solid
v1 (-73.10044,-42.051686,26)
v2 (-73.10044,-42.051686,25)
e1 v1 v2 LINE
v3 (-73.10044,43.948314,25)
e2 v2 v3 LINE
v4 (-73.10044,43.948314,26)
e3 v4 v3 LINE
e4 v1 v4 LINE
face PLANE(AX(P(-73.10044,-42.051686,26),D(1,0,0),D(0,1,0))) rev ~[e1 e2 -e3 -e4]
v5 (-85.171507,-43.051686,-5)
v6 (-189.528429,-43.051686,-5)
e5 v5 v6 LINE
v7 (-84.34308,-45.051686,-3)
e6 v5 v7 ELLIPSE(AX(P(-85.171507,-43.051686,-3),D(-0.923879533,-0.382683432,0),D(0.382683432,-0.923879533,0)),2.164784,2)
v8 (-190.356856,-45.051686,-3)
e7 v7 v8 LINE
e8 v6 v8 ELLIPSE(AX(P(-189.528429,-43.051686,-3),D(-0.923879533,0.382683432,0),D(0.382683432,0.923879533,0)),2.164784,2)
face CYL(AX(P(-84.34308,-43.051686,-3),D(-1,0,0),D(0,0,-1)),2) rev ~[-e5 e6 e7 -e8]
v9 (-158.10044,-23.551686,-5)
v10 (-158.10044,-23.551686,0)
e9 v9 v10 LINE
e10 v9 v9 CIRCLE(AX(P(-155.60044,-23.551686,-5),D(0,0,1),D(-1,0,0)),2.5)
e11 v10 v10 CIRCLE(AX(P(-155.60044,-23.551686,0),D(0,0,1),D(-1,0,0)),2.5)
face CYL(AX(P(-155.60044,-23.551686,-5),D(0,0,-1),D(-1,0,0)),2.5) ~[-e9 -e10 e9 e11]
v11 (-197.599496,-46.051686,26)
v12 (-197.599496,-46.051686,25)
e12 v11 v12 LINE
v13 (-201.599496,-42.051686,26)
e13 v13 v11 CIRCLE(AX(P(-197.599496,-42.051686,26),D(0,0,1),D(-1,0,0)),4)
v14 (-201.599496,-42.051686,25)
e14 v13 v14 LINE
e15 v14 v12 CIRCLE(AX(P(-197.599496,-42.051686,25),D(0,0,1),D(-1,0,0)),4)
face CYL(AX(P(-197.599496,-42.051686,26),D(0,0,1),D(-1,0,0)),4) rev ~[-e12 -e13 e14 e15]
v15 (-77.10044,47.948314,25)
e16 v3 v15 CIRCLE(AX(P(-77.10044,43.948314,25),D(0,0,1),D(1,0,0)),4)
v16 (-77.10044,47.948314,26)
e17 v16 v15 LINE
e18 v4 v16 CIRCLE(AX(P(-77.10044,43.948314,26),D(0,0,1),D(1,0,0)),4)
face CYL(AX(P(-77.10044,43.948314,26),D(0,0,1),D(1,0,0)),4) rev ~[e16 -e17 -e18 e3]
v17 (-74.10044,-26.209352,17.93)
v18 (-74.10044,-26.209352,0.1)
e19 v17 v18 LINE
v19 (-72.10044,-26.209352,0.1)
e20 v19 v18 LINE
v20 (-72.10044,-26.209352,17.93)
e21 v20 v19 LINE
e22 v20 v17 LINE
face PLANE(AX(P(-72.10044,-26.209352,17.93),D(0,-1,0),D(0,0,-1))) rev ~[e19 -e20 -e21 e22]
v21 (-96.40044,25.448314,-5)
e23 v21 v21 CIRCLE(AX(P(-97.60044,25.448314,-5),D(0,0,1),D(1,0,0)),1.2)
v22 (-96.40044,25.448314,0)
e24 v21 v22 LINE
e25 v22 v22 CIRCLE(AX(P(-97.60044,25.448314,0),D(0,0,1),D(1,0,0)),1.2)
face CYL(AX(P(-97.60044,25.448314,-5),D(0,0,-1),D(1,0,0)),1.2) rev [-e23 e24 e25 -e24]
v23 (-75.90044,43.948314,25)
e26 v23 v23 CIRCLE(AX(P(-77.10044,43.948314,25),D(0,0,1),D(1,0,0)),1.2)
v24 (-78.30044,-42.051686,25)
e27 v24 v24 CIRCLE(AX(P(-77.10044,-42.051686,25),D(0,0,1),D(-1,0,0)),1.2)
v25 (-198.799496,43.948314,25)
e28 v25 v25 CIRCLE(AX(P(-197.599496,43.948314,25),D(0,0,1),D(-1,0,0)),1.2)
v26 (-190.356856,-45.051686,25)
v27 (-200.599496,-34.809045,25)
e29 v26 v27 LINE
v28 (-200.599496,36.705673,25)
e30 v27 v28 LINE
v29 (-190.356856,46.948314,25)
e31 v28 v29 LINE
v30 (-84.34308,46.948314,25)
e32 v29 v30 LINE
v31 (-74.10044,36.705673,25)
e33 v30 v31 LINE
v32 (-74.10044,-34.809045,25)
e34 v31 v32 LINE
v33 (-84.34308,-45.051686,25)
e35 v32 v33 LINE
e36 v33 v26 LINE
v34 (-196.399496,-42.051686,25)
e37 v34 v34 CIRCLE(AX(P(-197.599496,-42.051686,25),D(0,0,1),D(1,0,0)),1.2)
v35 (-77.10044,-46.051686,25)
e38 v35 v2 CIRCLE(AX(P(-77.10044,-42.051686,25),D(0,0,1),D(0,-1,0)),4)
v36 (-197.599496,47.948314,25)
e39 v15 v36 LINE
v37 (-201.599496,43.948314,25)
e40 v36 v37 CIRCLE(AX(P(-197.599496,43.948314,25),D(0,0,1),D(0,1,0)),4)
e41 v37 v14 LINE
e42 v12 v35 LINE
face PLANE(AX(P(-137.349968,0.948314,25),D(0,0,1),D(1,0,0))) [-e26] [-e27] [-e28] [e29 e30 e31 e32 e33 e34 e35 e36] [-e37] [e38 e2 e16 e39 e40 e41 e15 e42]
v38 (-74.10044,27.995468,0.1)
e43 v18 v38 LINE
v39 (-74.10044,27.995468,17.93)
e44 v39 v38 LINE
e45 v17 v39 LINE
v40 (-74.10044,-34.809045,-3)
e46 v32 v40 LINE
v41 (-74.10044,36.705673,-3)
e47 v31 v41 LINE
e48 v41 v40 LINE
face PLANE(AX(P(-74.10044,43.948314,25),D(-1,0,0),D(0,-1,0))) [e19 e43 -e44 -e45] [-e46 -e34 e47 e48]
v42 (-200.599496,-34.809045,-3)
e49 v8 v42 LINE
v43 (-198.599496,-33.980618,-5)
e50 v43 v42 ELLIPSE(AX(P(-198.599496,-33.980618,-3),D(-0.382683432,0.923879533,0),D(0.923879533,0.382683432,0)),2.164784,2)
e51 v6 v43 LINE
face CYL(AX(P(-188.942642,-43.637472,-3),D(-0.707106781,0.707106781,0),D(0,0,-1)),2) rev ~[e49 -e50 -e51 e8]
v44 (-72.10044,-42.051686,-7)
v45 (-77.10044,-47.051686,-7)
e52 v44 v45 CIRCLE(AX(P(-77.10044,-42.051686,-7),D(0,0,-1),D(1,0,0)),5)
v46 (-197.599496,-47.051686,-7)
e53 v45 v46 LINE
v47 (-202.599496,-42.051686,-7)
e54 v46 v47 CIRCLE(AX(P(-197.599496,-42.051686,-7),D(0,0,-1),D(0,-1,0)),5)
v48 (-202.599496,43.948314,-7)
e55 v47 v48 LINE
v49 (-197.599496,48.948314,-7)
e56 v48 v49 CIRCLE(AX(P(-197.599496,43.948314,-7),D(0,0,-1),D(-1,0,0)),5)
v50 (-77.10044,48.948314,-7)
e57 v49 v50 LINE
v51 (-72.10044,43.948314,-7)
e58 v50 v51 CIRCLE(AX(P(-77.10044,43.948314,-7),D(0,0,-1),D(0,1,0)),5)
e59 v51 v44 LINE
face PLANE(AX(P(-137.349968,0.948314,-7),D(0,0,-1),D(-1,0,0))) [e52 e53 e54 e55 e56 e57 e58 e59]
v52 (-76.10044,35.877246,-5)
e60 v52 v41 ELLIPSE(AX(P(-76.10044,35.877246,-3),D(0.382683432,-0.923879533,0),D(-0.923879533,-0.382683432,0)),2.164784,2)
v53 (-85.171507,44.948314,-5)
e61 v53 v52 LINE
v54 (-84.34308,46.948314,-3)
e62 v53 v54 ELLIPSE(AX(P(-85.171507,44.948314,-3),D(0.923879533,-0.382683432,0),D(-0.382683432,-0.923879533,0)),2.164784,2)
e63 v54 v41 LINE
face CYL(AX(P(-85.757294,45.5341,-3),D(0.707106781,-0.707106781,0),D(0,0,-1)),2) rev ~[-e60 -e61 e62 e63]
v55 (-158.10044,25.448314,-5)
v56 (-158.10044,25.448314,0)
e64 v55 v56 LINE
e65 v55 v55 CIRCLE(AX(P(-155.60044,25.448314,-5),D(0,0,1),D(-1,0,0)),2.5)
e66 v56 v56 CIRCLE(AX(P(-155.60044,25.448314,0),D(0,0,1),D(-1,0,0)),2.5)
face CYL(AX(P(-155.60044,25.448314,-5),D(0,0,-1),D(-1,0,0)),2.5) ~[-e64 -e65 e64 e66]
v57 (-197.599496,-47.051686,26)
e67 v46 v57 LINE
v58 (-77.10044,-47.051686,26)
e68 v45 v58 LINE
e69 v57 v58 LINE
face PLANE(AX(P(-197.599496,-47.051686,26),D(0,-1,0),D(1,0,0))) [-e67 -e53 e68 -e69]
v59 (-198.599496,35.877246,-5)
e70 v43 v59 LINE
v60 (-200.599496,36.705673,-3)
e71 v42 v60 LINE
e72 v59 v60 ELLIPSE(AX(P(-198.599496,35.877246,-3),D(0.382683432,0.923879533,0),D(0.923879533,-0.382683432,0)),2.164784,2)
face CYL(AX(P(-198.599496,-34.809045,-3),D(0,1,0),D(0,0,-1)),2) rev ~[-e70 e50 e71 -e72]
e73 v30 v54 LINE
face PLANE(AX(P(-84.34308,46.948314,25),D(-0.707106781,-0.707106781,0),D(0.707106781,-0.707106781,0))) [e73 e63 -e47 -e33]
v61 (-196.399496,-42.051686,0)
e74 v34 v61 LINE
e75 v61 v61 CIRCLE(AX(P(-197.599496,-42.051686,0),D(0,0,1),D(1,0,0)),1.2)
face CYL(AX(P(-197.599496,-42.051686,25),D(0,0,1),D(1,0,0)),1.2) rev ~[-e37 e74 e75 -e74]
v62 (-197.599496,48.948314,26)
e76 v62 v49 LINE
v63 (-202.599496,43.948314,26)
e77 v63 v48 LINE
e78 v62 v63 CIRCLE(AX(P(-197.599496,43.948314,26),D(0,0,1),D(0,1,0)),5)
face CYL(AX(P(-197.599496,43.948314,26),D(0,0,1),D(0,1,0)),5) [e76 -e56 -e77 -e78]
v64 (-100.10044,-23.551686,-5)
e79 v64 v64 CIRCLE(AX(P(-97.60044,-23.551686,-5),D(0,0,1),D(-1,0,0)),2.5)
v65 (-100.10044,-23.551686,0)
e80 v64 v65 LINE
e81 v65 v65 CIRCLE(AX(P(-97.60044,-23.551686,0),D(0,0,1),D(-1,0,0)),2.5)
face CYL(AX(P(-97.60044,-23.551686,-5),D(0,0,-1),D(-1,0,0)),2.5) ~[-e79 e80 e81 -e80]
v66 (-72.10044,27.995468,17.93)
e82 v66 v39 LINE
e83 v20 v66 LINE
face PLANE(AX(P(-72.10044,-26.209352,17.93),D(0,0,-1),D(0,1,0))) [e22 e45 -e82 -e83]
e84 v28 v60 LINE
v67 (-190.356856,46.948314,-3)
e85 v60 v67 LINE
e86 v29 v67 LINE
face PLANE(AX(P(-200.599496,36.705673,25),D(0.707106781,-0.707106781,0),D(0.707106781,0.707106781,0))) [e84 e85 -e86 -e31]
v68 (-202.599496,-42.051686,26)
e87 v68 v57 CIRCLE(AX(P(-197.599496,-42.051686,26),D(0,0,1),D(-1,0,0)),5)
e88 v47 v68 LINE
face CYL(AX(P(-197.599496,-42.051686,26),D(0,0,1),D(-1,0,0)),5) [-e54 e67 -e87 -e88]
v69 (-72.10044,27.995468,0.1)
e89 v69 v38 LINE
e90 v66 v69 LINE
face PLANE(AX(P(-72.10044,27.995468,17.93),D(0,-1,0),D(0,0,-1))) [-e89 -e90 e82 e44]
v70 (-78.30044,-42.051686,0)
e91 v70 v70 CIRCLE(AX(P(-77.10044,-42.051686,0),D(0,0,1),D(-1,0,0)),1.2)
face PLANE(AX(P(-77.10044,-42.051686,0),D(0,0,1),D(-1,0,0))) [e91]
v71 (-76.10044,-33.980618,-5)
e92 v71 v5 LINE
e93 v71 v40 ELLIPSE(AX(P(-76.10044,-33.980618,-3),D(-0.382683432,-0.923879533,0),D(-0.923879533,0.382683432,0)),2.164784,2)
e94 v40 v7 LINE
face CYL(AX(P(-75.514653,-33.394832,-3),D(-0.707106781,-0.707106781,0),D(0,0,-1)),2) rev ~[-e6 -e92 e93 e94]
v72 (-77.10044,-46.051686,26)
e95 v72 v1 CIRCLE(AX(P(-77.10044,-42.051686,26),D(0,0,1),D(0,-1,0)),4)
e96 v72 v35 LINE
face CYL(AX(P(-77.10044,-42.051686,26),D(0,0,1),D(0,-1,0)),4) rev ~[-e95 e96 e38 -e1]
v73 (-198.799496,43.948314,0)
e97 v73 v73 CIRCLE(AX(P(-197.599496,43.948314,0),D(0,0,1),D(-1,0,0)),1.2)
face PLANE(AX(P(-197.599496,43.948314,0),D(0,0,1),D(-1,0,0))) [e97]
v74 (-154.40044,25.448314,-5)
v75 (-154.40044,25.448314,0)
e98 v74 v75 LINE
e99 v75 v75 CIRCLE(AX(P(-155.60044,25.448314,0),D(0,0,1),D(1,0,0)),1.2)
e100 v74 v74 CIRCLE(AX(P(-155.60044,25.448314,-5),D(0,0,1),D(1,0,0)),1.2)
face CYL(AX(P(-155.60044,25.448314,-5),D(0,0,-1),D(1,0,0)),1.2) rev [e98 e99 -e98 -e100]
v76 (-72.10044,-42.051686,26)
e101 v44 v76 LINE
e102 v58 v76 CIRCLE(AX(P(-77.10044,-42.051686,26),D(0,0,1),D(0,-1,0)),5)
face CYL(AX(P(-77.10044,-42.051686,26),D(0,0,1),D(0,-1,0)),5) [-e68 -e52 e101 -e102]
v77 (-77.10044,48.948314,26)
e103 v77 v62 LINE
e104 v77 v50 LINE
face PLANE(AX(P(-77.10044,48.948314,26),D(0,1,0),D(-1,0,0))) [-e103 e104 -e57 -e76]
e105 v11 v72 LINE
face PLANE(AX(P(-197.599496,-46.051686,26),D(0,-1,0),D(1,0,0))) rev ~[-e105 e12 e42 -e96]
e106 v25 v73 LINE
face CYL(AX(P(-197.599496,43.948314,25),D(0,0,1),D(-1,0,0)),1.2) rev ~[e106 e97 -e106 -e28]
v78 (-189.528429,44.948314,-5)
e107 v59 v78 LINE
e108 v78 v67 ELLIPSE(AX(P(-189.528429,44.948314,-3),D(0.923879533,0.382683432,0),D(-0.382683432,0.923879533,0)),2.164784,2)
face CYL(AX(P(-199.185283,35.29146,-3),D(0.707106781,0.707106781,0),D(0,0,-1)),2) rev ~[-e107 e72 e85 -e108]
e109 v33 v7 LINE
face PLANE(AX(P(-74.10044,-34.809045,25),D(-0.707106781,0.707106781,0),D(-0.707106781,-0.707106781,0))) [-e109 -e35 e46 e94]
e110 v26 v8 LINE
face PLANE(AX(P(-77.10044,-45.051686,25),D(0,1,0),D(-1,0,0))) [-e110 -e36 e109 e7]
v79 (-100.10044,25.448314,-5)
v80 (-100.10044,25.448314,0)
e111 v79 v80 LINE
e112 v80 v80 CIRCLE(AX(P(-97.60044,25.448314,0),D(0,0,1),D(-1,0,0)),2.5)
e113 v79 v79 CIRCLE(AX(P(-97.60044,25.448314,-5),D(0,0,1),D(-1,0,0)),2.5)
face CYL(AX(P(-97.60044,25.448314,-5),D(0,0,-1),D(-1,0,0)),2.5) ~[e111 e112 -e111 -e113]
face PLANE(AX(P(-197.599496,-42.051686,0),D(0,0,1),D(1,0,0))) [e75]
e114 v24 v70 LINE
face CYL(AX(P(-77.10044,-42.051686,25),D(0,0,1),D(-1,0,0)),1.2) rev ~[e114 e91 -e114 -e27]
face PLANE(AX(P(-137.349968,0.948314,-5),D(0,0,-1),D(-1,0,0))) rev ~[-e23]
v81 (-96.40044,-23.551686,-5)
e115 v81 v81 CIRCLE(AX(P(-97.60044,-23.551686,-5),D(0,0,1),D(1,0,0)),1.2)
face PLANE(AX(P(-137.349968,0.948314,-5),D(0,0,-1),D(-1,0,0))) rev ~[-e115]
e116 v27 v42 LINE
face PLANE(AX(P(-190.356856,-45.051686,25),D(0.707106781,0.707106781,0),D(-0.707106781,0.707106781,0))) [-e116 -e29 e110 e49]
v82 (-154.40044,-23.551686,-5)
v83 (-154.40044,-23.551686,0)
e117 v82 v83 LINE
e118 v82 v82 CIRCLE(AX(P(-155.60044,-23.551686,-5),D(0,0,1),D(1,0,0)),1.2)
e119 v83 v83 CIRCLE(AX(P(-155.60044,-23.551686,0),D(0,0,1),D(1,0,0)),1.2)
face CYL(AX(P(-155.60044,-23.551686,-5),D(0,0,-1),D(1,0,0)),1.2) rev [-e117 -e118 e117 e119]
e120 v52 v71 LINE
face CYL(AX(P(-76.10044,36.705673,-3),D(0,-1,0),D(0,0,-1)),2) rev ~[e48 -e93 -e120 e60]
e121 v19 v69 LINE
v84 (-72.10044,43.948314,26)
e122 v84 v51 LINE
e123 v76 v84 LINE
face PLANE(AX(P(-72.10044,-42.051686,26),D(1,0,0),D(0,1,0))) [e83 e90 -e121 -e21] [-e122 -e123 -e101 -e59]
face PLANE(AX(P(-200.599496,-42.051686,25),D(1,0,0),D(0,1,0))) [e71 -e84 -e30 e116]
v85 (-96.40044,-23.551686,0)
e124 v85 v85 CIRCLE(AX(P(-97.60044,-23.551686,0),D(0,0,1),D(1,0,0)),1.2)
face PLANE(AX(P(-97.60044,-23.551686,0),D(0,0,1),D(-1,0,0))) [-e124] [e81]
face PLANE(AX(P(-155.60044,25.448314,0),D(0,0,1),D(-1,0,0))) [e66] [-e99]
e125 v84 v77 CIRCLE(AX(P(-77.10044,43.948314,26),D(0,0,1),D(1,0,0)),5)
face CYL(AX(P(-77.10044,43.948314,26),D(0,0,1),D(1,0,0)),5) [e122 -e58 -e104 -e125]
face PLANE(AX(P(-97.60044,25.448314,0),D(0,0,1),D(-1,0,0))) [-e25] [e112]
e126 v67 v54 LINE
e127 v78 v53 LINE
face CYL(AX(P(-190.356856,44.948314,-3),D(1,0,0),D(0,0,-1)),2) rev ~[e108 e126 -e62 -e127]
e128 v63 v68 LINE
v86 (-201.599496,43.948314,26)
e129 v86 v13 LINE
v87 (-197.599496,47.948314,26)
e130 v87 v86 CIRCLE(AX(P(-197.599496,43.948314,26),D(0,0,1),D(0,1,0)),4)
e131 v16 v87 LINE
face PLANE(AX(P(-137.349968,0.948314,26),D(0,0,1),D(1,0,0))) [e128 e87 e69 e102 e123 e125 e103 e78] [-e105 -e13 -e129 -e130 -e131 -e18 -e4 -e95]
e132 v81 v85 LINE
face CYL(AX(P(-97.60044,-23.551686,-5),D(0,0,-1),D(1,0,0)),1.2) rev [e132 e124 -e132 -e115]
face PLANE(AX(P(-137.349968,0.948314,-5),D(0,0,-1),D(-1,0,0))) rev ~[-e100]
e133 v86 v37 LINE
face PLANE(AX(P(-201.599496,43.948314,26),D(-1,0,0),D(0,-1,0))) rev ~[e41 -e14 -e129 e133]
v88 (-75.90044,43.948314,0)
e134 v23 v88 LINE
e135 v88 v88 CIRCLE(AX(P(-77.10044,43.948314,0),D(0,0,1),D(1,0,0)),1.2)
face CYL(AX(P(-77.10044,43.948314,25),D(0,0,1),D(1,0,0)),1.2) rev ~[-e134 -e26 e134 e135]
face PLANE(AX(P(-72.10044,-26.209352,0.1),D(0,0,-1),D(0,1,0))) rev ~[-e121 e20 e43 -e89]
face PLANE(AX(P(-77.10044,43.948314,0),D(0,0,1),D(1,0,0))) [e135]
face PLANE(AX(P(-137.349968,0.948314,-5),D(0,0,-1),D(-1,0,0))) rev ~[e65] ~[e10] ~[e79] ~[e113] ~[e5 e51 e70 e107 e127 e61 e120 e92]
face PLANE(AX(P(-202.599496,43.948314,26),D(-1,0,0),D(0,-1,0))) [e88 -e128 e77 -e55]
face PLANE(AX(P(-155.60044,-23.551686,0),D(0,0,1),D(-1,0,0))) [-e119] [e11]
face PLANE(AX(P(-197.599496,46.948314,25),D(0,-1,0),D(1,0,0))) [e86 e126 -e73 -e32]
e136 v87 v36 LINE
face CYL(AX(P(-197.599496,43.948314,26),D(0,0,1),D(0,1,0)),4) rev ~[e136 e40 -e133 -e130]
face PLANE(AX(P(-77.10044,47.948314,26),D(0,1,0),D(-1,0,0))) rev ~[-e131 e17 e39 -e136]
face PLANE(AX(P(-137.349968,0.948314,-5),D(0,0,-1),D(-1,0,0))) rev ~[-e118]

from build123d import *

# Parameters (mm, degrees)
BOSS_EXTRUDE1_DEPTH = 2
BOSS_EXTRUDE2_START = 30
SKETCH2_R           = 3
BOSS_EXTRUDE2_DEPTH = 30
SKETCH3_R           = 1.2
CUT_EXTRUDE1_DEPTH  = 25
BOSS_EXTRUDE3_START = 1
BOSS_EXTRUDE3_DEPTH = 1
SKETCH6_W           = 17.83
SKETCH6_H           = 54.204820934
CUT_EXTRUDE2_DEPTH  = 2
SKETCH7_R           = 2.5
SKETCH7_R_2         = 1.375
SKETCH7_R_3         = 1.2
BOSS_EXTRUDE4_DEPTH = 5
FILLET1_R           = 2


with BuildPart() as part:
    # Sketch1 → Boss-Extrude1 (new body)
    with BuildSketch(Plane(origin=(0, 0, -5), x_dir=(-1, 0, 0), z_dir=(0, 0, -1))):
        with BuildLine():
            Line((77.100439502, -47.051685991), (197.59949644, -47.051685991))
            ThreePointArc((197.59949644, -47.051685991), (201.135030346, -45.587219897), (202.59949644, -42.051685991))
            Line((202.59949644, -42.051685991), (202.59949644, 43.948314009))
            ThreePointArc((202.59949644, 43.948314009), (201.135030346, 47.483847915), (197.59949644, 48.948314009))
            Line((197.59949644, 48.948314009), (77.100439502, 48.948314009))
            ThreePointArc((77.100439502, 48.948314009), (73.564905596, 47.483847915), (72.100439502, 43.948314009))
            Line((72.100439502, 43.948314009), (72.100439502, -42.051685991))
            ThreePointArc((72.100439502, -42.051685991), (73.564905596, -45.587219897), (77.100439502, -47.051685991))
        make_face()
    extrude(amount=BOSS_EXTRUDE1_DEPTH)

    # Sketch2 → Boss-Extrude2 (add)
    # profile 1 of 7: a face of its own
    with BuildSketch(Plane.XY.offset(-5).offset(BOSS_EXTRUDE2_START)):
        with BuildLine():
            ThreePointArc((-202.59949644, -42.051685991), (-201.135030346, -45.587219897), (-197.59949644, -47.051685991))
            Line((-197.59949644, -47.051685991), (-77.100439502, -47.051685991))
            ThreePointArc((-77.100439502, -47.051685991), (-73.564905596, -45.587219897), (-72.100439502, -42.051685991))
            Line((-72.100439502, -42.051685991), (-72.100439502, 43.948314009))
            ThreePointArc((-72.100439502, 43.948314009), (-73.564905596, 47.483847915), (-77.100439502, 48.948314009))
            Line((-77.100439502, 48.948314009), (-197.59949644, 48.948314009))
            ThreePointArc((-197.59949644, 48.948314009), (-201.135030346, 47.483847915), (-202.59949644, 43.948314009))
            Line((-202.59949644, 43.948314009), (-202.59949644, -42.051685991))
        make_face()
        with BuildLine():
            Line((-74.100439502, -34.809045304), (-74.100439502, -42.051685991))
            ThreePointArc((-74.100439502, -42.051685991), (-74.979119158, -44.173006334), (-77.100439502, -45.051685991))
            Line((-77.100439502, -45.051685991), (-84.343080189, -45.051685991))
            Line((-84.343080189, -45.051685991), (-190.356855753, -45.051685991))
            Line((-190.356855753, -45.051685991), (-197.59949644, -45.051685991))
            ThreePointArc((-197.59949644, -45.051685991), (-199.720816783, -44.173006334), (-200.59949644, -42.051685991))
            Line((-200.59949644, -42.051685991), (-200.59949644, -34.809045304))
            Line((-200.59949644, -34.809045304), (-200.59949644, 36.705673322))
            Line((-200.59949644, 36.705673322), (-200.59949644, 43.948314009))
            ThreePointArc((-200.59949644, 43.948314009), (-199.720816783, 46.069634353), (-197.59949644, 46.948314009))
            Line((-197.59949644, 46.948314009), (-190.356855753, 46.948314009))
            Line((-190.356855753, 46.948314009), (-84.343080189, 46.948314009))
            Line((-84.343080189, 46.948314009), (-77.100439502, 46.948314009))
            ThreePointArc((-77.100439502, 46.948314009), (-74.979119158, 46.069634353), (-74.100439502, 43.948314009))
            Line((-74.100439502, 43.948314009), (-74.100439502, 36.705673322))
            Line((-74.100439502, 36.705673322), (-74.100439502, -34.809045304))
        make_face(mode=Mode.SUBTRACT)
    # profile 2 of 7: a face of its own
    with BuildSketch(Plane.XY.offset(-5).offset(BOSS_EXTRUDE2_START)):
        with BuildLine():
            Line((-197.59949644, -45.051685991), (-190.356855753, -45.051685991))
            Line((-190.356855753, -45.051685991), (-200.59949644, -34.809045304))
            Line((-200.59949644, -34.809045304), (-200.59949644, -42.051685991))
            ThreePointArc((-200.59949644, -42.051685991), (-199.720816783, -44.173006334), (-197.59949644, -45.051685991))
        make_face()
    # profile 3 of 7: a face of its own
    with BuildSketch(Plane.XY.offset(-5).offset(BOSS_EXTRUDE2_START)):
        with BuildLine():
            Line((-200.59949644, 36.705673322), (-190.356855753, 46.948314009))
            Line((-190.356855753, 46.948314009), (-197.59949644, 46.948314009))
            ThreePointArc((-197.59949644, 46.948314009), (-199.720816783, 46.069634353), (-200.59949644, 43.948314009))
            Line((-200.59949644, 43.948314009), (-200.59949644, 36.705673322))
        make_face()
    # profile 4 of 7: a face of its own
    with BuildSketch(Plane.XY.offset(-5).offset(BOSS_EXTRUDE2_START)):
        with BuildLine():
            Line((-84.343080189, 46.948314009), (-74.100439502, 36.705673322))
            Line((-74.100439502, 36.705673322), (-74.100439502, 43.948314009))
            ThreePointArc((-74.100439502, 43.948314009), (-74.979119158, 46.069634353), (-77.100439502, 46.948314009))
            Line((-77.100439502, 46.948314009), (-84.343080189, 46.948314009))
        make_face()
    # profile 5 of 7: a face of its own
    with BuildSketch(Plane.XY.offset(-5).offset(BOSS_EXTRUDE2_START)):
        with BuildLine():
            ThreePointArc((-79.221759818, -39.93036562), (-75.952389187, -39.280047401), (-74.100439502, -42.051685991))
            Line((-74.100439502, -42.051685991), (-74.100439502, -34.809045304))
            Line((-74.100439502, -34.809045304), (-79.221759818, -39.93036562))
        make_face()
    # profile 6 of 7: a face of its own
    with BuildSketch(Plane.XY.offset(-5).offset(BOSS_EXTRUDE2_START)):
        with Locations((-77.100439502, -42.051685991)):
            Circle(SKETCH2_R)
    # profile 7 of 7: a face of its own
    with BuildSketch(Plane.XY.offset(-5).offset(BOSS_EXTRUDE2_START)):
        with BuildLine():
            Line((-84.343080189, -45.051685991), (-77.100439502, -45.051685991))
            ThreePointArc((-77.100439502, -45.051685991), (-79.872078107, -43.19973627), (-79.221759818, -39.93036562))
            Line((-79.221759818, -39.93036562), (-84.343080189, -45.051685991))
        make_face()
    extrude(amount=-BOSS_EXTRUDE2_DEPTH)

    # Sketch3 → Cut-Extrude1 (cut)
    with BuildSketch(Plane.XY.offset(25)):
        with Locations((-197.59949644, -42.051685991)):
            Circle(SKETCH3_R)
        with Locations(Location((-77.100439502, -42.051685991, 0), (0, 0, 180))):
            Circle(SKETCH3_R)
        with Locations(Location((-197.59949644, 43.948314009, 0), (0, 0, 180))):
            Circle(SKETCH3_R)
        with Locations((-77.100439502, 43.948314009)):
            Circle(SKETCH3_R)
    extrude(amount=-CUT_EXTRUDE1_DEPTH, mode=Mode.SUBTRACT)

    # Sketch4 → Boss-Extrude3 (add)
    with BuildSketch(Plane.XY.offset(25).offset(BOSS_EXTRUDE3_START)):
        with BuildLine():
            Line((-202.59949644, 43.948314009), (-202.59949644, -42.051685991))
            ThreePointArc((-202.59949644, -42.051685991), (-201.135030346, -45.587219897), (-197.59949644, -47.051685991))
            Line((-197.59949644, -47.051685991), (-77.100439502, -47.051685991))
            ThreePointArc((-77.100439502, -47.051685991), (-73.564905596, -45.587219897), (-72.100439502, -42.051685991))
            Line((-72.100439502, -42.051685991), (-72.100439502, 43.948314009))
            ThreePointArc((-72.100439502, 43.948314009), (-73.564905596, 47.483847915), (-77.100439502, 48.948314009))
            Line((-77.100439502, 48.948314009), (-197.59949644, 48.948314009))
            ThreePointArc((-197.59949644, 48.948314009), (-201.135030346, 47.483847915), (-202.59949644, 43.948314009))
        make_face()
        with BuildLine():
            Line((-201.59949644, 43.948314009), (-201.59949644, -42.051685991))
            ThreePointArc((-201.59949644, -42.051685991), (-200.427923565, -44.880113116), (-197.59949644, -46.051685991))
            Line((-197.59949644, -46.051685991), (-77.100439502, -46.051685991))
            ThreePointArc((-77.100439502, -46.051685991), (-74.272012377, -44.880113116), (-73.100439502, -42.051685991))
            Line((-73.100439502, -42.051685991), (-73.100439502, 43.948314009))
            ThreePointArc((-73.100439502, 43.948314009), (-74.272012377, 46.776741134), (-77.100439502, 47.948314009))
            Line((-77.100439502, 47.948314009), (-197.59949644, 47.948314009))
            ThreePointArc((-197.59949644, 47.948314009), (-200.427923565, 46.776741134), (-201.59949644, 43.948314009))
        make_face(mode=Mode.SUBTRACT)
    extrude(amount=-BOSS_EXTRUDE3_DEPTH)

    # Sketch6 → Cut-Extrude2 (cut)
    with BuildSketch(Plane(origin=(-72.100439502, 0, 0), x_dir=(0, 0, -1), z_dir=(1, 0, 0))):
        with Locations((-9.015, 0.893058013)):
            Rectangle(SKETCH6_W, SKETCH6_H)
    extrude(amount=-CUT_EXTRUDE2_DEPTH, mode=Mode.SUBTRACT)

    # Sketch7 → Boss-Extrude4 (add)
    # profile 1 of 8: a face of its own
    with BuildSketch(Plane.XY.offset(-5)):
        with Locations(Location((-155.600439502, -23.551685991, 0), (0, 0, 180))):
            Circle(SKETCH7_R)
        with Locations((-155.600439502, -23.551685991)):
            Circle(SKETCH7_R_2, mode=Mode.SUBTRACT)
    # profile 2 of 8: a face of its own
    with BuildSketch(Plane.XY.offset(-5)):
        with Locations((-155.600439502, -23.551685991)):
            Circle(SKETCH7_R_2)
        with Locations((-155.600439502, -23.551685991)):
            Circle(SKETCH7_R_3, mode=Mode.SUBTRACT)
    # profile 3 of 8: a face of its own
    with BuildSketch(Plane.XY.offset(-5)):
        with Locations(Location((-155.600439502, 25.448314009, 0), (0, 0, 180))):
            Circle(SKETCH7_R)
        with Locations((-155.600439502, 25.448314009)):
            Circle(SKETCH7_R_2, mode=Mode.SUBTRACT)
    # profile 4 of 8: a face of its own
    with BuildSketch(Plane.XY.offset(-5)):
        with Locations((-155.600439502, 25.448314009)):
            Circle(SKETCH7_R_2)
        with Locations((-155.600439502, 25.448314009)):
            Circle(SKETCH7_R_3, mode=Mode.SUBTRACT)
    # profile 5 of 8: a face of its own
    with BuildSketch(Plane.XY.offset(-5)):
        with Locations(Location((-97.600439502, 25.448314009, 0), (0, 0, 180))):
            Circle(SKETCH7_R)
        with Locations((-97.600439502, 25.448314009)):
            Circle(SKETCH7_R_2, mode=Mode.SUBTRACT)
    # profile 6 of 8: a face of its own
    with BuildSketch(Plane.XY.offset(-5)):
        with Locations((-97.600439502, 25.448314009)):
            Circle(SKETCH7_R_2)
        with Locations((-97.600439502, 25.448314009)):
            Circle(SKETCH7_R_3, mode=Mode.SUBTRACT)
    # profile 7 of 8: a face of its own
    with BuildSketch(Plane.XY.offset(-5)):
        with Locations(Location((-97.600439502, -23.551685991, 0), (0, 0, 180))):
            Circle(SKETCH7_R)
        with Locations((-97.600439502, -23.551685991)):
            Circle(SKETCH7_R_2, mode=Mode.SUBTRACT)
    # profile 8 of 8: a face of its own
    with BuildSketch(Plane.XY.offset(-5)):
        with Locations((-97.600439502, -23.551685991)):
            Circle(SKETCH7_R_2)
        with Locations((-97.600439502, -23.551685991)):
            Circle(SKETCH7_R_3, mode=Mode.SUBTRACT)
    extrude(amount=BOSS_EXTRUDE4_DEPTH)

    # Fillet1
    fillet1_edges = [part.edges().sort_by_distance(p)[0] for p in [
        (-79.221759845, -39.930365647, -5),
        (-195.478176096, 41.826993666, -5),
        (-74.100439502, 0.948314009, -5),
        (-79.221759845, 41.826993666, -5),
        (-137.349967971, 46.948314009, -5),
        (-200.59949644, 0.948314009, -5),
        (-195.478176096, -39.930365647, -5),
        (-137.349967971, -45.051685991, -5),
    ]]
    fillet(fillet1_edges, radius=FILLET1_R)


solid = part.part
